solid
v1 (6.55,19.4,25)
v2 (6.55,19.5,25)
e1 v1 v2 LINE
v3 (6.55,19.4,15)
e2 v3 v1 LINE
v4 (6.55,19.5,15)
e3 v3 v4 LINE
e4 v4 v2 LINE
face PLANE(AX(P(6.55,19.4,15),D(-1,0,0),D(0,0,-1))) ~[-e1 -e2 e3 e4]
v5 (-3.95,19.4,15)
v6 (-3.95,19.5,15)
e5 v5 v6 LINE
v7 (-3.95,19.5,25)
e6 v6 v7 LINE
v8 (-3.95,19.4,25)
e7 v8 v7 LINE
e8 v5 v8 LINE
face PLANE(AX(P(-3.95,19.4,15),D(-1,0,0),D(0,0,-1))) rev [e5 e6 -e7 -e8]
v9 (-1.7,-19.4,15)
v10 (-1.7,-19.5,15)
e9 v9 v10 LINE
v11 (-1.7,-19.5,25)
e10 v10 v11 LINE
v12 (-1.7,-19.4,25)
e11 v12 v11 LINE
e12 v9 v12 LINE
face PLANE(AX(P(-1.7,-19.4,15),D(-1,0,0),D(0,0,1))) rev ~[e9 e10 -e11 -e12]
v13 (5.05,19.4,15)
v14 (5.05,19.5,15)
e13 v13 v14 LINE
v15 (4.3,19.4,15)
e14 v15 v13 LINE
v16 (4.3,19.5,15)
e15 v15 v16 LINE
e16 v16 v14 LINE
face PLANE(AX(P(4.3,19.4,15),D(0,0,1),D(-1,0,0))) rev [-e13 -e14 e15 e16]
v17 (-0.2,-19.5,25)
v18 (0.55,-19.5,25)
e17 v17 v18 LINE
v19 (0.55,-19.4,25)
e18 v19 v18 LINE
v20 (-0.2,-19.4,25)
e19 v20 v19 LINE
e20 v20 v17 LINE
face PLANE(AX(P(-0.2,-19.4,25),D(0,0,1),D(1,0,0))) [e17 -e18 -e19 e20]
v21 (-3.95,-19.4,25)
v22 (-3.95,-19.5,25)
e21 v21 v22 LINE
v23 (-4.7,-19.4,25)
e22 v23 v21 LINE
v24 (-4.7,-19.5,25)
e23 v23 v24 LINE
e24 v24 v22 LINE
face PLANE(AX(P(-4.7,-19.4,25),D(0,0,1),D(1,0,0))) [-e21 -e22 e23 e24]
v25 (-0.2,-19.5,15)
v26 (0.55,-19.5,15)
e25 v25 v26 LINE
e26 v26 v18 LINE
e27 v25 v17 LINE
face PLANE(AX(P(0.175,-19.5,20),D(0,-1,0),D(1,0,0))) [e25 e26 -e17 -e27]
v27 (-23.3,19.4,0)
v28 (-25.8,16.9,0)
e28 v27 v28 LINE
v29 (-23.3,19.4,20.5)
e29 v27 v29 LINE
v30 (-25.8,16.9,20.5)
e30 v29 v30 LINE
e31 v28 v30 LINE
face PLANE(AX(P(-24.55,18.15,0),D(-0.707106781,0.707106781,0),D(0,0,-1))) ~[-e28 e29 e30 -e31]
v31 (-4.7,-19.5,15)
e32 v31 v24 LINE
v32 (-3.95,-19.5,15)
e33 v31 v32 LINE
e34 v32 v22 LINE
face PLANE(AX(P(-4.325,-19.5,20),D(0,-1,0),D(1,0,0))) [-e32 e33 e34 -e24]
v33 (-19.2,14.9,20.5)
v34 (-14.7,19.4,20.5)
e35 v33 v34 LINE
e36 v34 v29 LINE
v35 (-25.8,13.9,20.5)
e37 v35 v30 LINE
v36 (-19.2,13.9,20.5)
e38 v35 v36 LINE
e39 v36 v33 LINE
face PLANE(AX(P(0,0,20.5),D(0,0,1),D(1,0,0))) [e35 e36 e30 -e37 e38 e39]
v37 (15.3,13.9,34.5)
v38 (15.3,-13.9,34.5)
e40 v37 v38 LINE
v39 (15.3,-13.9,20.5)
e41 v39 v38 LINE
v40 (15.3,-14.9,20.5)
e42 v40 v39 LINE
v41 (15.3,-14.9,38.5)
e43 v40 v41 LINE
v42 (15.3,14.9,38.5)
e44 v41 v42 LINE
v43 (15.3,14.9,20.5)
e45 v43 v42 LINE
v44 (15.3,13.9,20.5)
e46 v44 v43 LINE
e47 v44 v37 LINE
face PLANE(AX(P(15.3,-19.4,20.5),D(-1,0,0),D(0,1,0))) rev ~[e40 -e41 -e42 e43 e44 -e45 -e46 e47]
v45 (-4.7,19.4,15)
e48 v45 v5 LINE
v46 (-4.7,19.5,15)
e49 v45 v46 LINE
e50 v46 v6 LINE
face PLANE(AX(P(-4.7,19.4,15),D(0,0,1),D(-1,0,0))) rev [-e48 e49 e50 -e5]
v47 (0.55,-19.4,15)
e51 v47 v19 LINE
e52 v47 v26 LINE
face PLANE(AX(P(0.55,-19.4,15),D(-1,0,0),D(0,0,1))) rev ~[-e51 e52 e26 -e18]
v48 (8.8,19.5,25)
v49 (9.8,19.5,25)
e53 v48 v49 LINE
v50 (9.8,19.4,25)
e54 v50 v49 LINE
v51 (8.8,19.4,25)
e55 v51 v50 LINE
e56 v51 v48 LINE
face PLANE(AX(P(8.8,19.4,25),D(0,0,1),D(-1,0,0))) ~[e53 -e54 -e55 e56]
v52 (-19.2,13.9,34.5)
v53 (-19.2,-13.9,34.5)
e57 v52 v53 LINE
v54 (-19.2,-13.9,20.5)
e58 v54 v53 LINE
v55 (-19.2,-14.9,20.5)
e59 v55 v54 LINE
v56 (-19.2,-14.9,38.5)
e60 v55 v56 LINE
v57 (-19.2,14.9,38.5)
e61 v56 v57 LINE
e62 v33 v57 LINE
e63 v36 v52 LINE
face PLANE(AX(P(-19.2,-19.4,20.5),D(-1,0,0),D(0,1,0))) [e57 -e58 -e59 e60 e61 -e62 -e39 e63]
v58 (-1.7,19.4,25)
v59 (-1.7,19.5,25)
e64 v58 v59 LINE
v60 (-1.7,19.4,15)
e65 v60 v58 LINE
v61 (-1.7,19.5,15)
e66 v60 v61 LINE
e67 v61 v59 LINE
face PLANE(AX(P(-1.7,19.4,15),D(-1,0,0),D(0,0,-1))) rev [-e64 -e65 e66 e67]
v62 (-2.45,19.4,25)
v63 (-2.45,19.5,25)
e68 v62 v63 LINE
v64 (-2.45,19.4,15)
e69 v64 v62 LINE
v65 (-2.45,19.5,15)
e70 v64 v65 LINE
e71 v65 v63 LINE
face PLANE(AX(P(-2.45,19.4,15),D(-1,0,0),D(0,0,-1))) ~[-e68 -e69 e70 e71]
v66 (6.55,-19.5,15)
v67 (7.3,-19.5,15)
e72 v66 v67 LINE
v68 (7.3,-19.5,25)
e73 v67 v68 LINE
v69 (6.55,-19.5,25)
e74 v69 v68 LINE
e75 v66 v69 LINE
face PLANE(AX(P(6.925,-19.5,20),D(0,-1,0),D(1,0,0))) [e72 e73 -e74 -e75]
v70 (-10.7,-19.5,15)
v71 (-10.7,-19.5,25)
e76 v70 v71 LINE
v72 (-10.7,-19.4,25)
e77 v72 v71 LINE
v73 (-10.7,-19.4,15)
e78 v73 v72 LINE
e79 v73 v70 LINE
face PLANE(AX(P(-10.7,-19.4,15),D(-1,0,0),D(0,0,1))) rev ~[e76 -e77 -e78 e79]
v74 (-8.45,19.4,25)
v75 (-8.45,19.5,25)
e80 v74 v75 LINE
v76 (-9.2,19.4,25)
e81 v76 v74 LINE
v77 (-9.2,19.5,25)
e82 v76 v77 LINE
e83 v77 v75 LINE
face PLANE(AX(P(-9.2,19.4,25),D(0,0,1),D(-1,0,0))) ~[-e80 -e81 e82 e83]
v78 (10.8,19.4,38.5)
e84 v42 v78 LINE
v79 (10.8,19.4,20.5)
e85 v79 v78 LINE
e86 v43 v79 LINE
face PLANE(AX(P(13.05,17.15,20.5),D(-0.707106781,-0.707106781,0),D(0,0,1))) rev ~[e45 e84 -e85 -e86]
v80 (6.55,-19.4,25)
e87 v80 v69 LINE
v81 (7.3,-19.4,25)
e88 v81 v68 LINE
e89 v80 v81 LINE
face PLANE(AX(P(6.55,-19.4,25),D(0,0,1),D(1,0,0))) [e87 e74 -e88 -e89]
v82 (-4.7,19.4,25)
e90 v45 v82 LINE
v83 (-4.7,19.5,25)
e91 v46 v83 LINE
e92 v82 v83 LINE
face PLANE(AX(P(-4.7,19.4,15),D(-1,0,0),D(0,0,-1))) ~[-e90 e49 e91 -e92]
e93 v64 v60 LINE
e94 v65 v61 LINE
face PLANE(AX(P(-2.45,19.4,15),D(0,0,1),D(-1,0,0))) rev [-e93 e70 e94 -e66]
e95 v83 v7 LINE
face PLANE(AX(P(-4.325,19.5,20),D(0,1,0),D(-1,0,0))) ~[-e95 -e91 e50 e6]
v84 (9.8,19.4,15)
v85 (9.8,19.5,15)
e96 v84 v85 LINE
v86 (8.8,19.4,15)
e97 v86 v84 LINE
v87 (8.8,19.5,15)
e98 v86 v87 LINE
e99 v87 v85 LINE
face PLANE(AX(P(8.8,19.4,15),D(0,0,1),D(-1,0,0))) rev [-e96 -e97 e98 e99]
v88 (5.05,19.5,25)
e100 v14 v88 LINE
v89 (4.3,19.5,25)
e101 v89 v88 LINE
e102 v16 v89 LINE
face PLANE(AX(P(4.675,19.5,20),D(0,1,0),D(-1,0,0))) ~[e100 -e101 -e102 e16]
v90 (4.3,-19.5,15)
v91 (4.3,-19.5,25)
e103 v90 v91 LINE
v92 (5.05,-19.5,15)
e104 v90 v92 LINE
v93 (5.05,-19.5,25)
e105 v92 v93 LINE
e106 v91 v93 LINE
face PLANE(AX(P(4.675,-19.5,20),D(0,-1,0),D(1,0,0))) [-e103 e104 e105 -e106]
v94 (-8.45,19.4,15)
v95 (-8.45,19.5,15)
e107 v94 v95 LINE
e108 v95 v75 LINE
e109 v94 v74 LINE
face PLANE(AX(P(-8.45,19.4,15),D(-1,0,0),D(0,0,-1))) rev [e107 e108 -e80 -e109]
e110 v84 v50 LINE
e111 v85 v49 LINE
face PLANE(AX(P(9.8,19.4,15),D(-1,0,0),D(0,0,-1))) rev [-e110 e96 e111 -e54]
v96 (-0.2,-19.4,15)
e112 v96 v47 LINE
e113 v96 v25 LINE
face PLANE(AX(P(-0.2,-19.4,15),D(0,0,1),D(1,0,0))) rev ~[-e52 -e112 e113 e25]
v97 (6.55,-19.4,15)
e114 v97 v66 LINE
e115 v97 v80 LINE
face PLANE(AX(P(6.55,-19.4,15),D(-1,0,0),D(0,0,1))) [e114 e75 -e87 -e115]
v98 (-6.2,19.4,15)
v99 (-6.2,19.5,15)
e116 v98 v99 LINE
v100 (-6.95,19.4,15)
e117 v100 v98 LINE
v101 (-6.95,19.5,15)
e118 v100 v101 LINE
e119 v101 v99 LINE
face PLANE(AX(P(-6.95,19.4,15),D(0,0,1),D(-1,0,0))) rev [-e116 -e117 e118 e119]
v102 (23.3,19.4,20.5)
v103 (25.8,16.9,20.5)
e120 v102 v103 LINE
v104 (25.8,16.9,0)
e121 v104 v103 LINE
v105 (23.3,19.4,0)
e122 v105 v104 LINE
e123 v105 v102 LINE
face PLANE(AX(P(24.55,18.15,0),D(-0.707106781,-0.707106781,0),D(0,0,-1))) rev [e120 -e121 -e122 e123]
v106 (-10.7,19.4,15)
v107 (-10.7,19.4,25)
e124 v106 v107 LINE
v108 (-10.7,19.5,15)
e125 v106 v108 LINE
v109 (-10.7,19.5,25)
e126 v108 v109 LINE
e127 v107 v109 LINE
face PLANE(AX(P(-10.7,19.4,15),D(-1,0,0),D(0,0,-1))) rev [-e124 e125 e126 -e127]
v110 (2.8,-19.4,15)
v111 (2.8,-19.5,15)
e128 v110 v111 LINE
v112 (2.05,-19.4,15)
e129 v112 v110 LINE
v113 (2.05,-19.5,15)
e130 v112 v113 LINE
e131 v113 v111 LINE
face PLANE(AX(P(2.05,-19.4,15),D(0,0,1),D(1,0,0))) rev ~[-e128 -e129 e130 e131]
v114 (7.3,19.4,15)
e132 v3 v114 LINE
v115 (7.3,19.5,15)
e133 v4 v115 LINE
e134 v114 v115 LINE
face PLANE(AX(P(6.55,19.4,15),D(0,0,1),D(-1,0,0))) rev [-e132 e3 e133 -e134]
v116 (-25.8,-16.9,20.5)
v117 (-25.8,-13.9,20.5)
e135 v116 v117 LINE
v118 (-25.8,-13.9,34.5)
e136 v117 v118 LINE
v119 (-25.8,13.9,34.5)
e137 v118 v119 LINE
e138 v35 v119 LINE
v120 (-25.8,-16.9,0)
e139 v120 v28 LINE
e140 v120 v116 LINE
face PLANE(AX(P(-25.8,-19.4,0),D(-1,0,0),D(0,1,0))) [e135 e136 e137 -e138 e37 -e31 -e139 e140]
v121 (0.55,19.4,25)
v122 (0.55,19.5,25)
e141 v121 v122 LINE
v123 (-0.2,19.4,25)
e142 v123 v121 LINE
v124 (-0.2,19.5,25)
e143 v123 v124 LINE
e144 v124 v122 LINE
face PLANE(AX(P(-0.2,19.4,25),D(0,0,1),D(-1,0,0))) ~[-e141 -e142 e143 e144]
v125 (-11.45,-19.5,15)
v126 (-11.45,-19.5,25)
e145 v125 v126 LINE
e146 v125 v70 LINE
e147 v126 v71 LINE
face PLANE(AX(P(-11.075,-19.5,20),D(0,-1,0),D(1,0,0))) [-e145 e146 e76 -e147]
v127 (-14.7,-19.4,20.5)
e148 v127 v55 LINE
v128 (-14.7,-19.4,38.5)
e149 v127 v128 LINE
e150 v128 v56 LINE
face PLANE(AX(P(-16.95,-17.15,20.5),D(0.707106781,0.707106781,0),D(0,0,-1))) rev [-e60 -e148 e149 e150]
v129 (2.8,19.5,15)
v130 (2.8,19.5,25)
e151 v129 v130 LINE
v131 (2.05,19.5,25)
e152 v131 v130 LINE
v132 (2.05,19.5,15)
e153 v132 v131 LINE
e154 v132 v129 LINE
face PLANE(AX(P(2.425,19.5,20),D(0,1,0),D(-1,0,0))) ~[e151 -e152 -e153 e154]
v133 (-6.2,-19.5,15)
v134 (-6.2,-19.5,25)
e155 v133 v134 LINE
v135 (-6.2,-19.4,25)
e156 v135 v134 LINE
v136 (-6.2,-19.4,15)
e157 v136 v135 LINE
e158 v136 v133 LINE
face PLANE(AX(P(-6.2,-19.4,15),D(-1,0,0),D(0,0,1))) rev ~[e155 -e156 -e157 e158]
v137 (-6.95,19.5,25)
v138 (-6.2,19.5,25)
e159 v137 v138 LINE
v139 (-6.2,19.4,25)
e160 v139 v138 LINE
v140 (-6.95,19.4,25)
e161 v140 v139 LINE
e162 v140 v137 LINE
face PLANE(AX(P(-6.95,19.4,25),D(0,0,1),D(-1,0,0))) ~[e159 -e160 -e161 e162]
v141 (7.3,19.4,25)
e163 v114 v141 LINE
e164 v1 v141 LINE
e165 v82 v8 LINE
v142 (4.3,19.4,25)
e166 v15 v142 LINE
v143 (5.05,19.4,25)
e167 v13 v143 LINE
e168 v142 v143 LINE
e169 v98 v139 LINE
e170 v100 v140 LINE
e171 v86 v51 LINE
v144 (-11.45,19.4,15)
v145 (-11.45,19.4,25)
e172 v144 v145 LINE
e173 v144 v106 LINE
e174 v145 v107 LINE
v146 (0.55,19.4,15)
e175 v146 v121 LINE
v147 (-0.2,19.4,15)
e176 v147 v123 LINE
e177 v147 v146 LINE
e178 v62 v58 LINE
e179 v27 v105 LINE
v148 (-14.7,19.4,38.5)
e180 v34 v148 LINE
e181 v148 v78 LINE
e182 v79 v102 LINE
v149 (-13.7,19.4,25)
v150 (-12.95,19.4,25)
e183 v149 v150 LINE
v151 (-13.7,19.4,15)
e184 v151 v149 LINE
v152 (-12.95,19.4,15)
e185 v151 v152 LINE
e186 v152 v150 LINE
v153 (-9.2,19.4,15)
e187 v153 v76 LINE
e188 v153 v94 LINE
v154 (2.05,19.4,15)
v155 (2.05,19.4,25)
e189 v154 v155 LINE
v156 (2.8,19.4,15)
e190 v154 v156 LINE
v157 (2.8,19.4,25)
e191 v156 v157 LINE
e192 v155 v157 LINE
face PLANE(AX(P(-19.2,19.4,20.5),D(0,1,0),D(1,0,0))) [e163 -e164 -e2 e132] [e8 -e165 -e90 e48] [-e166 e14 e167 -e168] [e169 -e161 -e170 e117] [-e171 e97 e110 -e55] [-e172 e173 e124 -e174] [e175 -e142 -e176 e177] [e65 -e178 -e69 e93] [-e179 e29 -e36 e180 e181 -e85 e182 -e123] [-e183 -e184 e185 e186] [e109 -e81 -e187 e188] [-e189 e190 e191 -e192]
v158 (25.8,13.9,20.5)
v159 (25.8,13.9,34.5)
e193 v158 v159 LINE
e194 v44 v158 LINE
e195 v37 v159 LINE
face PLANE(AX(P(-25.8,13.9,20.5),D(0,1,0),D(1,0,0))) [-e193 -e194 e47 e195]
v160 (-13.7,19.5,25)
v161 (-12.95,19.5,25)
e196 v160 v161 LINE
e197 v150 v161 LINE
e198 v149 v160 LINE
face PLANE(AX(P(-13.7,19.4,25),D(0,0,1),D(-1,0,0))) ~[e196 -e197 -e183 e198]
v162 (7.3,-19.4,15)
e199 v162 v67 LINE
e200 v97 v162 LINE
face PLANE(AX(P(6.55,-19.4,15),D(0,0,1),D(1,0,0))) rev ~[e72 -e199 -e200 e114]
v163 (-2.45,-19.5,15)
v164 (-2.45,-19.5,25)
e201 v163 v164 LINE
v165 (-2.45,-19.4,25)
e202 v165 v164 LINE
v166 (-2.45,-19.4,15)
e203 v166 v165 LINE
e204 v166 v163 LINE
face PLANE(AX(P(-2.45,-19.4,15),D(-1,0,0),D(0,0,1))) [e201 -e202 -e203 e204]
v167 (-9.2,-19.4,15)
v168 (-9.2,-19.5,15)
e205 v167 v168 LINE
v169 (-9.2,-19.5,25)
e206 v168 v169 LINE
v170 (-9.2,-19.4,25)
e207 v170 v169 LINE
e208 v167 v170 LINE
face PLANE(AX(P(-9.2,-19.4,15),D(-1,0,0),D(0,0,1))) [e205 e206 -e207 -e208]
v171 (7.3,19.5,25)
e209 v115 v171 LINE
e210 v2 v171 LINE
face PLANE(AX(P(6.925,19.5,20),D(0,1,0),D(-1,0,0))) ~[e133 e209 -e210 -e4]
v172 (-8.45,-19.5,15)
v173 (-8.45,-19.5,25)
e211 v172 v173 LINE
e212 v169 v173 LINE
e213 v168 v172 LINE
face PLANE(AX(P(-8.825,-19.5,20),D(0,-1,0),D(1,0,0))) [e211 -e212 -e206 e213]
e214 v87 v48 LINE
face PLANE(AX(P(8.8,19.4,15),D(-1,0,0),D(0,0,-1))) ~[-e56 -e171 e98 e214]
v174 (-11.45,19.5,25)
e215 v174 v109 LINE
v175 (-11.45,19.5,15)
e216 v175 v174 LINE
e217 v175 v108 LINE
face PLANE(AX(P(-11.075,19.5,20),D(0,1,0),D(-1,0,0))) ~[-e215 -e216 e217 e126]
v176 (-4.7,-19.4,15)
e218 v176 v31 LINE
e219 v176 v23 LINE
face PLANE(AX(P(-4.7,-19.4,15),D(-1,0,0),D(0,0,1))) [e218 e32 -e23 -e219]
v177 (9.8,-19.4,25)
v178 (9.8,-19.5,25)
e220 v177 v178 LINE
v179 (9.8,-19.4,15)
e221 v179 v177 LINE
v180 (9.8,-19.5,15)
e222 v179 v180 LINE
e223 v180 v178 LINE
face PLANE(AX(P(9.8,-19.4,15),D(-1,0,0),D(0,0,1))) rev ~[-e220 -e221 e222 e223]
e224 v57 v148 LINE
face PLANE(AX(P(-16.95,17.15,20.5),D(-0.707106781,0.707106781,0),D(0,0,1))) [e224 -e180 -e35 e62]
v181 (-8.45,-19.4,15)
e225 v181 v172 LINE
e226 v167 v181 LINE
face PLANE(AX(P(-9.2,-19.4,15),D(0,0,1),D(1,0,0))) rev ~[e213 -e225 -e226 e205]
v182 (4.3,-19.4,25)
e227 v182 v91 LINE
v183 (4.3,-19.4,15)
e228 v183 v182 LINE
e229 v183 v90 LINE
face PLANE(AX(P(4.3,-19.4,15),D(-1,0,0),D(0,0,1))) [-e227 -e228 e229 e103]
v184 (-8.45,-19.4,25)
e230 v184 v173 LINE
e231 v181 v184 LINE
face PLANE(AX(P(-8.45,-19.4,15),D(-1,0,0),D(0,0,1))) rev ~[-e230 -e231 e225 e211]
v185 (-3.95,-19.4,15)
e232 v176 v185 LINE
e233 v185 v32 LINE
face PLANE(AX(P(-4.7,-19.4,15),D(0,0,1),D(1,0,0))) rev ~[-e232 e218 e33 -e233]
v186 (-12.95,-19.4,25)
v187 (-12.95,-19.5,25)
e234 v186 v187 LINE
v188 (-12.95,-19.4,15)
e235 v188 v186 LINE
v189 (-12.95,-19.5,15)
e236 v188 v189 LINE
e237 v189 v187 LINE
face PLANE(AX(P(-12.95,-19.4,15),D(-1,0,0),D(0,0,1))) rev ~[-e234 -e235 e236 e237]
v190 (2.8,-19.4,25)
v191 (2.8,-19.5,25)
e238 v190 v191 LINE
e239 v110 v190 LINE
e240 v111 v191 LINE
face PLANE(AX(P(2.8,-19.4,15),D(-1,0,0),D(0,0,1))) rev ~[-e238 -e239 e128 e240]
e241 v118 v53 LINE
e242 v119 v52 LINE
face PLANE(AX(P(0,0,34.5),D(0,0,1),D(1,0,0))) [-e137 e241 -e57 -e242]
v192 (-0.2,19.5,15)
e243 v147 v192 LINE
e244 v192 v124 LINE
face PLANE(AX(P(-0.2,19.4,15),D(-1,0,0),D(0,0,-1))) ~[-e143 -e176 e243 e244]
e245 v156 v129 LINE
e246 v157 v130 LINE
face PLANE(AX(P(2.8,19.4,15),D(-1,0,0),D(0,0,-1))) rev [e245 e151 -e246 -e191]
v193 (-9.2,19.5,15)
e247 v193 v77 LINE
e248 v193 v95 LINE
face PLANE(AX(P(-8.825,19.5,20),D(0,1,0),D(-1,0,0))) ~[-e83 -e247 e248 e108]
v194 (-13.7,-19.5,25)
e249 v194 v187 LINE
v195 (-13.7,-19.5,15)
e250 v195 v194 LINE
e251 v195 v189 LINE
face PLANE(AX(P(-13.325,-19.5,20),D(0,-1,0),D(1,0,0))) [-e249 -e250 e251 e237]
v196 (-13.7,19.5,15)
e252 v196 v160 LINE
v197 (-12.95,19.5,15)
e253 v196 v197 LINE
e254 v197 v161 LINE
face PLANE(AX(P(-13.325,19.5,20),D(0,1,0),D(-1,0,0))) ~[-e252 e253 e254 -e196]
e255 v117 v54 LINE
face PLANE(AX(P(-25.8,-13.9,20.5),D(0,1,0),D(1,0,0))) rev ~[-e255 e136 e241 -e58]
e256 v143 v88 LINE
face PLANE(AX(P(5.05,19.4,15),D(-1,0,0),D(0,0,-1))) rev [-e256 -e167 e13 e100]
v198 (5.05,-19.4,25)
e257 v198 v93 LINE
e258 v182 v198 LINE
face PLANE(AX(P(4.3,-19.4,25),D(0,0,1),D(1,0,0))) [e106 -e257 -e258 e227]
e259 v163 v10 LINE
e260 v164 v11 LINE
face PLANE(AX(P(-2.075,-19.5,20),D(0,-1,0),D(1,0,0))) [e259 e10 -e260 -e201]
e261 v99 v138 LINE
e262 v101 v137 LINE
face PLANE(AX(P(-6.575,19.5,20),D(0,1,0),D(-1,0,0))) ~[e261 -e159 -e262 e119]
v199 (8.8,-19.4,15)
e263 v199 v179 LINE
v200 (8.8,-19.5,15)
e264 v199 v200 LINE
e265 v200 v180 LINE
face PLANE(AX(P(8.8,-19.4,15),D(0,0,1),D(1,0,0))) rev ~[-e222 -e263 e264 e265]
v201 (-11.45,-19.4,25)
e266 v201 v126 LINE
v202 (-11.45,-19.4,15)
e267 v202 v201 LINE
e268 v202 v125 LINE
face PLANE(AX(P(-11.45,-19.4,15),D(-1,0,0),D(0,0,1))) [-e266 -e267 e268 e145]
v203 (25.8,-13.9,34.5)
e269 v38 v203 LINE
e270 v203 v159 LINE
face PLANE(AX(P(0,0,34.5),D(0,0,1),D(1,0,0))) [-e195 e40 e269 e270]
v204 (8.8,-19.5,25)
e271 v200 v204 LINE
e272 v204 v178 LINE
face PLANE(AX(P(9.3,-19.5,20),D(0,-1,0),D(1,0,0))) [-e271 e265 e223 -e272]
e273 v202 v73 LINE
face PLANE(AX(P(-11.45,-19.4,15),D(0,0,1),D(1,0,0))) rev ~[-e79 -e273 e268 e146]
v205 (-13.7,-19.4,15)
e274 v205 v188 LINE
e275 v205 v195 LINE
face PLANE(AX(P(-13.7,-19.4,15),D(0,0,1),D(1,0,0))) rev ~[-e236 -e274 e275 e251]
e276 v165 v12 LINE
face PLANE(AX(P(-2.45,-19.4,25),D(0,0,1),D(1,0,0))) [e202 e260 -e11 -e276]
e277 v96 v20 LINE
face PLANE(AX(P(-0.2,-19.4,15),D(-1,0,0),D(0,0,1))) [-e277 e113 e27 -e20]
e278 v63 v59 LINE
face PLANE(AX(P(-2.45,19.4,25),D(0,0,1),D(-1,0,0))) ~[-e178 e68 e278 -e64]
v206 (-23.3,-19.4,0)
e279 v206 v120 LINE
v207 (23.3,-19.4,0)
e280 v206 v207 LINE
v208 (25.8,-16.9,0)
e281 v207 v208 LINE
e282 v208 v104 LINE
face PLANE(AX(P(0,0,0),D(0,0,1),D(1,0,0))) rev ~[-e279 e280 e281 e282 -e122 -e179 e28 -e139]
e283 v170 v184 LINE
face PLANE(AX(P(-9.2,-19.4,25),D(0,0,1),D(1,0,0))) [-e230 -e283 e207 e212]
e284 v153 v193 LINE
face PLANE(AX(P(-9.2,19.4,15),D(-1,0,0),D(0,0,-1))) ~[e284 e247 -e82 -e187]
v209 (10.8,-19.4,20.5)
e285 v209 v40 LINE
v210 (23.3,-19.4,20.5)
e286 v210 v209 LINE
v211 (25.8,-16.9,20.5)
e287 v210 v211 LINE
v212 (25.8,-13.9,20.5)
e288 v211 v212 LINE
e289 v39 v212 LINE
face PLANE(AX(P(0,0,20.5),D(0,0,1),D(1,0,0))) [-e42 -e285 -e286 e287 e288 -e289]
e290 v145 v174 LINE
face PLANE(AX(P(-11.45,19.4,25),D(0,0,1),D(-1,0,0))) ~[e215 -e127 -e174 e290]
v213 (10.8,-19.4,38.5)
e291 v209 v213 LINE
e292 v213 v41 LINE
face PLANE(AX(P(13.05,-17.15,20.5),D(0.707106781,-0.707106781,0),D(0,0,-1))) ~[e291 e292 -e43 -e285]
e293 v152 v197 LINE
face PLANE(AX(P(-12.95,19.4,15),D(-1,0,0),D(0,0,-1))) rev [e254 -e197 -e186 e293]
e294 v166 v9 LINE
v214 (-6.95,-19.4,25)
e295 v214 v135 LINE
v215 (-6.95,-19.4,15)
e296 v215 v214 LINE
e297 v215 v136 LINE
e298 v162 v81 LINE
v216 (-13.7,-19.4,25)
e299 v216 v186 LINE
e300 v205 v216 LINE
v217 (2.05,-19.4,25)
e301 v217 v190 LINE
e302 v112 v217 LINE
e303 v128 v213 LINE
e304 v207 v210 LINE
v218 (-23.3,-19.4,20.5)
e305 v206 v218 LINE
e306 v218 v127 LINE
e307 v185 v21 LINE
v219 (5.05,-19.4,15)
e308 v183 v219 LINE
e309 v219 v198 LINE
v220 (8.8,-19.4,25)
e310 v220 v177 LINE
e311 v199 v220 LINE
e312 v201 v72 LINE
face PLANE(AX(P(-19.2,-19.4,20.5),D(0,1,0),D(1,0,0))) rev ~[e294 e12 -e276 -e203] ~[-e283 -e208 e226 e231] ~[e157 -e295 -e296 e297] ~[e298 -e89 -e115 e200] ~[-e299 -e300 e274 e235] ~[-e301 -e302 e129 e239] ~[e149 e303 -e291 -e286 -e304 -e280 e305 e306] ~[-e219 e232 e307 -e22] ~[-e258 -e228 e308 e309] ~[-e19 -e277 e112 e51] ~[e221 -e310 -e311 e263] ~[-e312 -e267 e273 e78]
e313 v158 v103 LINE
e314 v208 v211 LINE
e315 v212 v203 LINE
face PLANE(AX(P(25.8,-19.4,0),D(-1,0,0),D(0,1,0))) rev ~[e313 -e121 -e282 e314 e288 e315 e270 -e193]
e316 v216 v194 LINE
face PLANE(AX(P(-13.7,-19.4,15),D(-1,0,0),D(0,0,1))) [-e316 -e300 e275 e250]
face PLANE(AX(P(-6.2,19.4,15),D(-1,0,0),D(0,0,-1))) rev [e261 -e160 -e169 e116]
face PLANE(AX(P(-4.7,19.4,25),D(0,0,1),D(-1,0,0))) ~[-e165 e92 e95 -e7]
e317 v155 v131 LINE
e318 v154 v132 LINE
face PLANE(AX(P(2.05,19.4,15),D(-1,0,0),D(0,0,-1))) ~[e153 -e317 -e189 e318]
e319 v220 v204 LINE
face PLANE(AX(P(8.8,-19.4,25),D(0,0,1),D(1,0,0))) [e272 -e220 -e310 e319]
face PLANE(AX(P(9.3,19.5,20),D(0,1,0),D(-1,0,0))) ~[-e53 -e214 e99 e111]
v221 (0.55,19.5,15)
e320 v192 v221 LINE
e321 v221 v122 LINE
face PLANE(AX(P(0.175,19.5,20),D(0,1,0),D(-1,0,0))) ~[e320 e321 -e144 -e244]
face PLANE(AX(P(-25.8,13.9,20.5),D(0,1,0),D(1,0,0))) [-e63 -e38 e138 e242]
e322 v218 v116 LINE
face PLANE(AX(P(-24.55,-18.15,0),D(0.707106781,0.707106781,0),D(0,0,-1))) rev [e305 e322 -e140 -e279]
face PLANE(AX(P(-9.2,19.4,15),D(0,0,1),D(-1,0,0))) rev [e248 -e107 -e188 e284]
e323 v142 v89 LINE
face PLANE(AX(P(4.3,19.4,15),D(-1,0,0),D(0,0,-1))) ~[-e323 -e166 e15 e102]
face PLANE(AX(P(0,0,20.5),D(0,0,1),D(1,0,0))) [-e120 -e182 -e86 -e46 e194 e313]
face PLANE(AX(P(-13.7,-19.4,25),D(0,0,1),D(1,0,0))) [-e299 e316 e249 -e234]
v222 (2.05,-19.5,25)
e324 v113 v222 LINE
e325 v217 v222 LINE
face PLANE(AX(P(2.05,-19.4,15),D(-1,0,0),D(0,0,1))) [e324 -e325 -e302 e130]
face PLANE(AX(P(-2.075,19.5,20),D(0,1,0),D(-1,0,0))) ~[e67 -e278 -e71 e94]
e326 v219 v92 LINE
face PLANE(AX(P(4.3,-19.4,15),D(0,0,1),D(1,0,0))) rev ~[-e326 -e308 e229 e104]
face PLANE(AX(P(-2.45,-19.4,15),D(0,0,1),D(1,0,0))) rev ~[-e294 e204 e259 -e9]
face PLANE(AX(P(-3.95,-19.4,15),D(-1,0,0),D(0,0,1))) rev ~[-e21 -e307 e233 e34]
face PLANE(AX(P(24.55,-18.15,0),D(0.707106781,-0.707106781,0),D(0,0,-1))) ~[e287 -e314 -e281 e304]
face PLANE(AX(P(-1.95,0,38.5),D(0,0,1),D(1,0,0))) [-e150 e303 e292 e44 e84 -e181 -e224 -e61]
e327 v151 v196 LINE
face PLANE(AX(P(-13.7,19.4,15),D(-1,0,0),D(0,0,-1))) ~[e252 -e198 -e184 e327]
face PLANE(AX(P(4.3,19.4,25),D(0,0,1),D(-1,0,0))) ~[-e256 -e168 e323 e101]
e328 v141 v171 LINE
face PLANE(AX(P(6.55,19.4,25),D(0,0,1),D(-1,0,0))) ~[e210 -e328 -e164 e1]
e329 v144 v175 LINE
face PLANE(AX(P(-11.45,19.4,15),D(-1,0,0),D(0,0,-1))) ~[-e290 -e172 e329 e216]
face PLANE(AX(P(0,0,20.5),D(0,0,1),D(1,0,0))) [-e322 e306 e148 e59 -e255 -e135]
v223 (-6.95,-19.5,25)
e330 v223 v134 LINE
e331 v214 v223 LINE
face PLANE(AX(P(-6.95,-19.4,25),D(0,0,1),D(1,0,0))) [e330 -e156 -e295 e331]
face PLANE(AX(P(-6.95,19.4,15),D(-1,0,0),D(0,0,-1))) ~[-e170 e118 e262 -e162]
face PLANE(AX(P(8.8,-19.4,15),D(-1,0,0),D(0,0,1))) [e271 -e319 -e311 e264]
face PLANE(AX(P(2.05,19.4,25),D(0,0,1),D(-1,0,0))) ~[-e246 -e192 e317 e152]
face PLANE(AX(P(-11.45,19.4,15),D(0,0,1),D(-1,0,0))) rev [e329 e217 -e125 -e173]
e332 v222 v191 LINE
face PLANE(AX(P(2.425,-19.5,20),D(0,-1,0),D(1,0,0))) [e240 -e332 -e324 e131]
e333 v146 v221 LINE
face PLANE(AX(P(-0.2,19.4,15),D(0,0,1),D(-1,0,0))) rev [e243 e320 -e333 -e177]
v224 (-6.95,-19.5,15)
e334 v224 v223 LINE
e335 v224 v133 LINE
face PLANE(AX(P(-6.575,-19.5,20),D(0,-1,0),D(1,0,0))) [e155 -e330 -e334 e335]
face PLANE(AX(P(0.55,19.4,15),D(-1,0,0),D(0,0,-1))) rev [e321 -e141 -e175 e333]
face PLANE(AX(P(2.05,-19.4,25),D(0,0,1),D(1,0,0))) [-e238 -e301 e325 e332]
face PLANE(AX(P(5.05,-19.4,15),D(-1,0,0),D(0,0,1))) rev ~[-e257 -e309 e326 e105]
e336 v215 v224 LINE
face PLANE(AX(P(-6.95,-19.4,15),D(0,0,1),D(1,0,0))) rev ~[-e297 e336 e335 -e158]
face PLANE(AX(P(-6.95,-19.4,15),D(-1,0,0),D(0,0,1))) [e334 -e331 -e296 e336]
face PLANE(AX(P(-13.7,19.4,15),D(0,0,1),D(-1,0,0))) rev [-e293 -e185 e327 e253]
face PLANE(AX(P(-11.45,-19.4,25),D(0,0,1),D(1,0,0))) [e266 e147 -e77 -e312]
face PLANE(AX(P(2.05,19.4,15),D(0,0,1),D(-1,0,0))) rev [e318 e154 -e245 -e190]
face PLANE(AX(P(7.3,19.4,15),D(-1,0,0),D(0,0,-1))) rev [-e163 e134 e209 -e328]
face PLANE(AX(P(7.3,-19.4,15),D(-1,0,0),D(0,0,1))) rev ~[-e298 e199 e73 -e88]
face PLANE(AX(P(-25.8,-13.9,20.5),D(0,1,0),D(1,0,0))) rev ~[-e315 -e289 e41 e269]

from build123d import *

# Parameters (mm, degrees)
SKETCH1_W           = 51.6
SKETCH1_H           = 38.8
BOSS_EXTRUDE1_DEPTH = 20.5
SKETCH2_W           = 51.6
SKETCH2_H           = 27.8
BOSS_EXTRUDE2_DEPTH = 14
SKETCH3_W           = 34.5
SKETCH3_H           = 38.8
BOSS_EXTRUDE3_DEPTH = 18
SKETCH4_W           = 0.75
SKETCH4_H           = 10
SKETCH4_W_2         = 1
BOSS_EXTRUDE4_DEPTH = 0.1
CHAMFER1_SIZE       = 2.5
CHAMFER2_SIZE       = 4.5


with BuildPart() as part:
    # Sketch1 → Boss-Extrude1 (new body)
    with BuildSketch(Plane.XY):
        Rectangle(SKETCH1_W, SKETCH1_H)
    extrude(amount=BOSS_EXTRUDE1_DEPTH)

    # Sketch2 → Boss-Extrude2 (add)
    with BuildSketch(Plane.XY.offset(20.5)):
        Rectangle(SKETCH2_W, SKETCH2_H)
    extrude(amount=BOSS_EXTRUDE2_DEPTH)

    # Sketch3 → Boss-Extrude3 (add)
    with BuildSketch(Plane.XY.offset(20.5)):
        with Locations((-1.95, 0)):
            Rectangle(SKETCH3_W, SKETCH3_H)
    extrude(amount=BOSS_EXTRUDE3_DEPTH)

    # Sketch4 → Boss-Extrude4 (add)
    with BuildSketch(Plane.XZ.offset(19.4)):
        with Locations((-13.325, 20)):
            Rectangle(SKETCH4_W, SKETCH4_H)
        with Locations((-11.075, 20)):
            Rectangle(SKETCH4_W, SKETCH4_H)
        with Locations((-8.825, 20)):
            Rectangle(SKETCH4_W, SKETCH4_H)
        with Locations((-6.575, 20)):
            Rectangle(SKETCH4_W, SKETCH4_H)
        with Locations((-4.325, 20)):
            Rectangle(SKETCH4_W, SKETCH4_H)
        with Locations((-2.075, 20)):
            Rectangle(SKETCH4_W, SKETCH4_H)
        with Locations((0.175, 20)):
            Rectangle(SKETCH4_W, SKETCH4_H)
        with Locations((2.425, 20)):
            Rectangle(SKETCH4_W, SKETCH4_H)
        with Locations((4.675, 20)):
            Rectangle(SKETCH4_W, SKETCH4_H)
        with Locations((6.925, 20)):
            Rectangle(SKETCH4_W, SKETCH4_H)
        with Locations((9.3, 20)):
            Rectangle(SKETCH4_W_2, SKETCH4_H)
    boss_extrude4 = extrude(amount=BOSS_EXTRUDE4_DEPTH)

    # Mirror1: Boss-Extrude4 across plane
    add(boss_extrude4.mirror(Plane.ZX))

    # Chamfer1
    chamfer1_edges = [part.edges().sort_by_distance(p)[0] for p in [
        (25.8, -19.4, 10.25),
        (-25.8, 19.4, 10.25),
        (-25.8, -19.4, 10.25),
        (25.8, 19.4, 10.25),
    ]]
    chamfer(chamfer1_edges, length=CHAMFER1_SIZE)

    # Chamfer2
    chamfer2_edges = [part.edges().sort_by_distance(p)[0] for p in [
        (-19.2, -19.4, 29.5),
        (15.3, -19.4, 29.5),
        (-19.2, 19.4, 29.5),
        (15.3, 19.4, 29.5),
    ]]
    chamfer(chamfer2_edges, length=CHAMFER2_SIZE)


solid = part.part
